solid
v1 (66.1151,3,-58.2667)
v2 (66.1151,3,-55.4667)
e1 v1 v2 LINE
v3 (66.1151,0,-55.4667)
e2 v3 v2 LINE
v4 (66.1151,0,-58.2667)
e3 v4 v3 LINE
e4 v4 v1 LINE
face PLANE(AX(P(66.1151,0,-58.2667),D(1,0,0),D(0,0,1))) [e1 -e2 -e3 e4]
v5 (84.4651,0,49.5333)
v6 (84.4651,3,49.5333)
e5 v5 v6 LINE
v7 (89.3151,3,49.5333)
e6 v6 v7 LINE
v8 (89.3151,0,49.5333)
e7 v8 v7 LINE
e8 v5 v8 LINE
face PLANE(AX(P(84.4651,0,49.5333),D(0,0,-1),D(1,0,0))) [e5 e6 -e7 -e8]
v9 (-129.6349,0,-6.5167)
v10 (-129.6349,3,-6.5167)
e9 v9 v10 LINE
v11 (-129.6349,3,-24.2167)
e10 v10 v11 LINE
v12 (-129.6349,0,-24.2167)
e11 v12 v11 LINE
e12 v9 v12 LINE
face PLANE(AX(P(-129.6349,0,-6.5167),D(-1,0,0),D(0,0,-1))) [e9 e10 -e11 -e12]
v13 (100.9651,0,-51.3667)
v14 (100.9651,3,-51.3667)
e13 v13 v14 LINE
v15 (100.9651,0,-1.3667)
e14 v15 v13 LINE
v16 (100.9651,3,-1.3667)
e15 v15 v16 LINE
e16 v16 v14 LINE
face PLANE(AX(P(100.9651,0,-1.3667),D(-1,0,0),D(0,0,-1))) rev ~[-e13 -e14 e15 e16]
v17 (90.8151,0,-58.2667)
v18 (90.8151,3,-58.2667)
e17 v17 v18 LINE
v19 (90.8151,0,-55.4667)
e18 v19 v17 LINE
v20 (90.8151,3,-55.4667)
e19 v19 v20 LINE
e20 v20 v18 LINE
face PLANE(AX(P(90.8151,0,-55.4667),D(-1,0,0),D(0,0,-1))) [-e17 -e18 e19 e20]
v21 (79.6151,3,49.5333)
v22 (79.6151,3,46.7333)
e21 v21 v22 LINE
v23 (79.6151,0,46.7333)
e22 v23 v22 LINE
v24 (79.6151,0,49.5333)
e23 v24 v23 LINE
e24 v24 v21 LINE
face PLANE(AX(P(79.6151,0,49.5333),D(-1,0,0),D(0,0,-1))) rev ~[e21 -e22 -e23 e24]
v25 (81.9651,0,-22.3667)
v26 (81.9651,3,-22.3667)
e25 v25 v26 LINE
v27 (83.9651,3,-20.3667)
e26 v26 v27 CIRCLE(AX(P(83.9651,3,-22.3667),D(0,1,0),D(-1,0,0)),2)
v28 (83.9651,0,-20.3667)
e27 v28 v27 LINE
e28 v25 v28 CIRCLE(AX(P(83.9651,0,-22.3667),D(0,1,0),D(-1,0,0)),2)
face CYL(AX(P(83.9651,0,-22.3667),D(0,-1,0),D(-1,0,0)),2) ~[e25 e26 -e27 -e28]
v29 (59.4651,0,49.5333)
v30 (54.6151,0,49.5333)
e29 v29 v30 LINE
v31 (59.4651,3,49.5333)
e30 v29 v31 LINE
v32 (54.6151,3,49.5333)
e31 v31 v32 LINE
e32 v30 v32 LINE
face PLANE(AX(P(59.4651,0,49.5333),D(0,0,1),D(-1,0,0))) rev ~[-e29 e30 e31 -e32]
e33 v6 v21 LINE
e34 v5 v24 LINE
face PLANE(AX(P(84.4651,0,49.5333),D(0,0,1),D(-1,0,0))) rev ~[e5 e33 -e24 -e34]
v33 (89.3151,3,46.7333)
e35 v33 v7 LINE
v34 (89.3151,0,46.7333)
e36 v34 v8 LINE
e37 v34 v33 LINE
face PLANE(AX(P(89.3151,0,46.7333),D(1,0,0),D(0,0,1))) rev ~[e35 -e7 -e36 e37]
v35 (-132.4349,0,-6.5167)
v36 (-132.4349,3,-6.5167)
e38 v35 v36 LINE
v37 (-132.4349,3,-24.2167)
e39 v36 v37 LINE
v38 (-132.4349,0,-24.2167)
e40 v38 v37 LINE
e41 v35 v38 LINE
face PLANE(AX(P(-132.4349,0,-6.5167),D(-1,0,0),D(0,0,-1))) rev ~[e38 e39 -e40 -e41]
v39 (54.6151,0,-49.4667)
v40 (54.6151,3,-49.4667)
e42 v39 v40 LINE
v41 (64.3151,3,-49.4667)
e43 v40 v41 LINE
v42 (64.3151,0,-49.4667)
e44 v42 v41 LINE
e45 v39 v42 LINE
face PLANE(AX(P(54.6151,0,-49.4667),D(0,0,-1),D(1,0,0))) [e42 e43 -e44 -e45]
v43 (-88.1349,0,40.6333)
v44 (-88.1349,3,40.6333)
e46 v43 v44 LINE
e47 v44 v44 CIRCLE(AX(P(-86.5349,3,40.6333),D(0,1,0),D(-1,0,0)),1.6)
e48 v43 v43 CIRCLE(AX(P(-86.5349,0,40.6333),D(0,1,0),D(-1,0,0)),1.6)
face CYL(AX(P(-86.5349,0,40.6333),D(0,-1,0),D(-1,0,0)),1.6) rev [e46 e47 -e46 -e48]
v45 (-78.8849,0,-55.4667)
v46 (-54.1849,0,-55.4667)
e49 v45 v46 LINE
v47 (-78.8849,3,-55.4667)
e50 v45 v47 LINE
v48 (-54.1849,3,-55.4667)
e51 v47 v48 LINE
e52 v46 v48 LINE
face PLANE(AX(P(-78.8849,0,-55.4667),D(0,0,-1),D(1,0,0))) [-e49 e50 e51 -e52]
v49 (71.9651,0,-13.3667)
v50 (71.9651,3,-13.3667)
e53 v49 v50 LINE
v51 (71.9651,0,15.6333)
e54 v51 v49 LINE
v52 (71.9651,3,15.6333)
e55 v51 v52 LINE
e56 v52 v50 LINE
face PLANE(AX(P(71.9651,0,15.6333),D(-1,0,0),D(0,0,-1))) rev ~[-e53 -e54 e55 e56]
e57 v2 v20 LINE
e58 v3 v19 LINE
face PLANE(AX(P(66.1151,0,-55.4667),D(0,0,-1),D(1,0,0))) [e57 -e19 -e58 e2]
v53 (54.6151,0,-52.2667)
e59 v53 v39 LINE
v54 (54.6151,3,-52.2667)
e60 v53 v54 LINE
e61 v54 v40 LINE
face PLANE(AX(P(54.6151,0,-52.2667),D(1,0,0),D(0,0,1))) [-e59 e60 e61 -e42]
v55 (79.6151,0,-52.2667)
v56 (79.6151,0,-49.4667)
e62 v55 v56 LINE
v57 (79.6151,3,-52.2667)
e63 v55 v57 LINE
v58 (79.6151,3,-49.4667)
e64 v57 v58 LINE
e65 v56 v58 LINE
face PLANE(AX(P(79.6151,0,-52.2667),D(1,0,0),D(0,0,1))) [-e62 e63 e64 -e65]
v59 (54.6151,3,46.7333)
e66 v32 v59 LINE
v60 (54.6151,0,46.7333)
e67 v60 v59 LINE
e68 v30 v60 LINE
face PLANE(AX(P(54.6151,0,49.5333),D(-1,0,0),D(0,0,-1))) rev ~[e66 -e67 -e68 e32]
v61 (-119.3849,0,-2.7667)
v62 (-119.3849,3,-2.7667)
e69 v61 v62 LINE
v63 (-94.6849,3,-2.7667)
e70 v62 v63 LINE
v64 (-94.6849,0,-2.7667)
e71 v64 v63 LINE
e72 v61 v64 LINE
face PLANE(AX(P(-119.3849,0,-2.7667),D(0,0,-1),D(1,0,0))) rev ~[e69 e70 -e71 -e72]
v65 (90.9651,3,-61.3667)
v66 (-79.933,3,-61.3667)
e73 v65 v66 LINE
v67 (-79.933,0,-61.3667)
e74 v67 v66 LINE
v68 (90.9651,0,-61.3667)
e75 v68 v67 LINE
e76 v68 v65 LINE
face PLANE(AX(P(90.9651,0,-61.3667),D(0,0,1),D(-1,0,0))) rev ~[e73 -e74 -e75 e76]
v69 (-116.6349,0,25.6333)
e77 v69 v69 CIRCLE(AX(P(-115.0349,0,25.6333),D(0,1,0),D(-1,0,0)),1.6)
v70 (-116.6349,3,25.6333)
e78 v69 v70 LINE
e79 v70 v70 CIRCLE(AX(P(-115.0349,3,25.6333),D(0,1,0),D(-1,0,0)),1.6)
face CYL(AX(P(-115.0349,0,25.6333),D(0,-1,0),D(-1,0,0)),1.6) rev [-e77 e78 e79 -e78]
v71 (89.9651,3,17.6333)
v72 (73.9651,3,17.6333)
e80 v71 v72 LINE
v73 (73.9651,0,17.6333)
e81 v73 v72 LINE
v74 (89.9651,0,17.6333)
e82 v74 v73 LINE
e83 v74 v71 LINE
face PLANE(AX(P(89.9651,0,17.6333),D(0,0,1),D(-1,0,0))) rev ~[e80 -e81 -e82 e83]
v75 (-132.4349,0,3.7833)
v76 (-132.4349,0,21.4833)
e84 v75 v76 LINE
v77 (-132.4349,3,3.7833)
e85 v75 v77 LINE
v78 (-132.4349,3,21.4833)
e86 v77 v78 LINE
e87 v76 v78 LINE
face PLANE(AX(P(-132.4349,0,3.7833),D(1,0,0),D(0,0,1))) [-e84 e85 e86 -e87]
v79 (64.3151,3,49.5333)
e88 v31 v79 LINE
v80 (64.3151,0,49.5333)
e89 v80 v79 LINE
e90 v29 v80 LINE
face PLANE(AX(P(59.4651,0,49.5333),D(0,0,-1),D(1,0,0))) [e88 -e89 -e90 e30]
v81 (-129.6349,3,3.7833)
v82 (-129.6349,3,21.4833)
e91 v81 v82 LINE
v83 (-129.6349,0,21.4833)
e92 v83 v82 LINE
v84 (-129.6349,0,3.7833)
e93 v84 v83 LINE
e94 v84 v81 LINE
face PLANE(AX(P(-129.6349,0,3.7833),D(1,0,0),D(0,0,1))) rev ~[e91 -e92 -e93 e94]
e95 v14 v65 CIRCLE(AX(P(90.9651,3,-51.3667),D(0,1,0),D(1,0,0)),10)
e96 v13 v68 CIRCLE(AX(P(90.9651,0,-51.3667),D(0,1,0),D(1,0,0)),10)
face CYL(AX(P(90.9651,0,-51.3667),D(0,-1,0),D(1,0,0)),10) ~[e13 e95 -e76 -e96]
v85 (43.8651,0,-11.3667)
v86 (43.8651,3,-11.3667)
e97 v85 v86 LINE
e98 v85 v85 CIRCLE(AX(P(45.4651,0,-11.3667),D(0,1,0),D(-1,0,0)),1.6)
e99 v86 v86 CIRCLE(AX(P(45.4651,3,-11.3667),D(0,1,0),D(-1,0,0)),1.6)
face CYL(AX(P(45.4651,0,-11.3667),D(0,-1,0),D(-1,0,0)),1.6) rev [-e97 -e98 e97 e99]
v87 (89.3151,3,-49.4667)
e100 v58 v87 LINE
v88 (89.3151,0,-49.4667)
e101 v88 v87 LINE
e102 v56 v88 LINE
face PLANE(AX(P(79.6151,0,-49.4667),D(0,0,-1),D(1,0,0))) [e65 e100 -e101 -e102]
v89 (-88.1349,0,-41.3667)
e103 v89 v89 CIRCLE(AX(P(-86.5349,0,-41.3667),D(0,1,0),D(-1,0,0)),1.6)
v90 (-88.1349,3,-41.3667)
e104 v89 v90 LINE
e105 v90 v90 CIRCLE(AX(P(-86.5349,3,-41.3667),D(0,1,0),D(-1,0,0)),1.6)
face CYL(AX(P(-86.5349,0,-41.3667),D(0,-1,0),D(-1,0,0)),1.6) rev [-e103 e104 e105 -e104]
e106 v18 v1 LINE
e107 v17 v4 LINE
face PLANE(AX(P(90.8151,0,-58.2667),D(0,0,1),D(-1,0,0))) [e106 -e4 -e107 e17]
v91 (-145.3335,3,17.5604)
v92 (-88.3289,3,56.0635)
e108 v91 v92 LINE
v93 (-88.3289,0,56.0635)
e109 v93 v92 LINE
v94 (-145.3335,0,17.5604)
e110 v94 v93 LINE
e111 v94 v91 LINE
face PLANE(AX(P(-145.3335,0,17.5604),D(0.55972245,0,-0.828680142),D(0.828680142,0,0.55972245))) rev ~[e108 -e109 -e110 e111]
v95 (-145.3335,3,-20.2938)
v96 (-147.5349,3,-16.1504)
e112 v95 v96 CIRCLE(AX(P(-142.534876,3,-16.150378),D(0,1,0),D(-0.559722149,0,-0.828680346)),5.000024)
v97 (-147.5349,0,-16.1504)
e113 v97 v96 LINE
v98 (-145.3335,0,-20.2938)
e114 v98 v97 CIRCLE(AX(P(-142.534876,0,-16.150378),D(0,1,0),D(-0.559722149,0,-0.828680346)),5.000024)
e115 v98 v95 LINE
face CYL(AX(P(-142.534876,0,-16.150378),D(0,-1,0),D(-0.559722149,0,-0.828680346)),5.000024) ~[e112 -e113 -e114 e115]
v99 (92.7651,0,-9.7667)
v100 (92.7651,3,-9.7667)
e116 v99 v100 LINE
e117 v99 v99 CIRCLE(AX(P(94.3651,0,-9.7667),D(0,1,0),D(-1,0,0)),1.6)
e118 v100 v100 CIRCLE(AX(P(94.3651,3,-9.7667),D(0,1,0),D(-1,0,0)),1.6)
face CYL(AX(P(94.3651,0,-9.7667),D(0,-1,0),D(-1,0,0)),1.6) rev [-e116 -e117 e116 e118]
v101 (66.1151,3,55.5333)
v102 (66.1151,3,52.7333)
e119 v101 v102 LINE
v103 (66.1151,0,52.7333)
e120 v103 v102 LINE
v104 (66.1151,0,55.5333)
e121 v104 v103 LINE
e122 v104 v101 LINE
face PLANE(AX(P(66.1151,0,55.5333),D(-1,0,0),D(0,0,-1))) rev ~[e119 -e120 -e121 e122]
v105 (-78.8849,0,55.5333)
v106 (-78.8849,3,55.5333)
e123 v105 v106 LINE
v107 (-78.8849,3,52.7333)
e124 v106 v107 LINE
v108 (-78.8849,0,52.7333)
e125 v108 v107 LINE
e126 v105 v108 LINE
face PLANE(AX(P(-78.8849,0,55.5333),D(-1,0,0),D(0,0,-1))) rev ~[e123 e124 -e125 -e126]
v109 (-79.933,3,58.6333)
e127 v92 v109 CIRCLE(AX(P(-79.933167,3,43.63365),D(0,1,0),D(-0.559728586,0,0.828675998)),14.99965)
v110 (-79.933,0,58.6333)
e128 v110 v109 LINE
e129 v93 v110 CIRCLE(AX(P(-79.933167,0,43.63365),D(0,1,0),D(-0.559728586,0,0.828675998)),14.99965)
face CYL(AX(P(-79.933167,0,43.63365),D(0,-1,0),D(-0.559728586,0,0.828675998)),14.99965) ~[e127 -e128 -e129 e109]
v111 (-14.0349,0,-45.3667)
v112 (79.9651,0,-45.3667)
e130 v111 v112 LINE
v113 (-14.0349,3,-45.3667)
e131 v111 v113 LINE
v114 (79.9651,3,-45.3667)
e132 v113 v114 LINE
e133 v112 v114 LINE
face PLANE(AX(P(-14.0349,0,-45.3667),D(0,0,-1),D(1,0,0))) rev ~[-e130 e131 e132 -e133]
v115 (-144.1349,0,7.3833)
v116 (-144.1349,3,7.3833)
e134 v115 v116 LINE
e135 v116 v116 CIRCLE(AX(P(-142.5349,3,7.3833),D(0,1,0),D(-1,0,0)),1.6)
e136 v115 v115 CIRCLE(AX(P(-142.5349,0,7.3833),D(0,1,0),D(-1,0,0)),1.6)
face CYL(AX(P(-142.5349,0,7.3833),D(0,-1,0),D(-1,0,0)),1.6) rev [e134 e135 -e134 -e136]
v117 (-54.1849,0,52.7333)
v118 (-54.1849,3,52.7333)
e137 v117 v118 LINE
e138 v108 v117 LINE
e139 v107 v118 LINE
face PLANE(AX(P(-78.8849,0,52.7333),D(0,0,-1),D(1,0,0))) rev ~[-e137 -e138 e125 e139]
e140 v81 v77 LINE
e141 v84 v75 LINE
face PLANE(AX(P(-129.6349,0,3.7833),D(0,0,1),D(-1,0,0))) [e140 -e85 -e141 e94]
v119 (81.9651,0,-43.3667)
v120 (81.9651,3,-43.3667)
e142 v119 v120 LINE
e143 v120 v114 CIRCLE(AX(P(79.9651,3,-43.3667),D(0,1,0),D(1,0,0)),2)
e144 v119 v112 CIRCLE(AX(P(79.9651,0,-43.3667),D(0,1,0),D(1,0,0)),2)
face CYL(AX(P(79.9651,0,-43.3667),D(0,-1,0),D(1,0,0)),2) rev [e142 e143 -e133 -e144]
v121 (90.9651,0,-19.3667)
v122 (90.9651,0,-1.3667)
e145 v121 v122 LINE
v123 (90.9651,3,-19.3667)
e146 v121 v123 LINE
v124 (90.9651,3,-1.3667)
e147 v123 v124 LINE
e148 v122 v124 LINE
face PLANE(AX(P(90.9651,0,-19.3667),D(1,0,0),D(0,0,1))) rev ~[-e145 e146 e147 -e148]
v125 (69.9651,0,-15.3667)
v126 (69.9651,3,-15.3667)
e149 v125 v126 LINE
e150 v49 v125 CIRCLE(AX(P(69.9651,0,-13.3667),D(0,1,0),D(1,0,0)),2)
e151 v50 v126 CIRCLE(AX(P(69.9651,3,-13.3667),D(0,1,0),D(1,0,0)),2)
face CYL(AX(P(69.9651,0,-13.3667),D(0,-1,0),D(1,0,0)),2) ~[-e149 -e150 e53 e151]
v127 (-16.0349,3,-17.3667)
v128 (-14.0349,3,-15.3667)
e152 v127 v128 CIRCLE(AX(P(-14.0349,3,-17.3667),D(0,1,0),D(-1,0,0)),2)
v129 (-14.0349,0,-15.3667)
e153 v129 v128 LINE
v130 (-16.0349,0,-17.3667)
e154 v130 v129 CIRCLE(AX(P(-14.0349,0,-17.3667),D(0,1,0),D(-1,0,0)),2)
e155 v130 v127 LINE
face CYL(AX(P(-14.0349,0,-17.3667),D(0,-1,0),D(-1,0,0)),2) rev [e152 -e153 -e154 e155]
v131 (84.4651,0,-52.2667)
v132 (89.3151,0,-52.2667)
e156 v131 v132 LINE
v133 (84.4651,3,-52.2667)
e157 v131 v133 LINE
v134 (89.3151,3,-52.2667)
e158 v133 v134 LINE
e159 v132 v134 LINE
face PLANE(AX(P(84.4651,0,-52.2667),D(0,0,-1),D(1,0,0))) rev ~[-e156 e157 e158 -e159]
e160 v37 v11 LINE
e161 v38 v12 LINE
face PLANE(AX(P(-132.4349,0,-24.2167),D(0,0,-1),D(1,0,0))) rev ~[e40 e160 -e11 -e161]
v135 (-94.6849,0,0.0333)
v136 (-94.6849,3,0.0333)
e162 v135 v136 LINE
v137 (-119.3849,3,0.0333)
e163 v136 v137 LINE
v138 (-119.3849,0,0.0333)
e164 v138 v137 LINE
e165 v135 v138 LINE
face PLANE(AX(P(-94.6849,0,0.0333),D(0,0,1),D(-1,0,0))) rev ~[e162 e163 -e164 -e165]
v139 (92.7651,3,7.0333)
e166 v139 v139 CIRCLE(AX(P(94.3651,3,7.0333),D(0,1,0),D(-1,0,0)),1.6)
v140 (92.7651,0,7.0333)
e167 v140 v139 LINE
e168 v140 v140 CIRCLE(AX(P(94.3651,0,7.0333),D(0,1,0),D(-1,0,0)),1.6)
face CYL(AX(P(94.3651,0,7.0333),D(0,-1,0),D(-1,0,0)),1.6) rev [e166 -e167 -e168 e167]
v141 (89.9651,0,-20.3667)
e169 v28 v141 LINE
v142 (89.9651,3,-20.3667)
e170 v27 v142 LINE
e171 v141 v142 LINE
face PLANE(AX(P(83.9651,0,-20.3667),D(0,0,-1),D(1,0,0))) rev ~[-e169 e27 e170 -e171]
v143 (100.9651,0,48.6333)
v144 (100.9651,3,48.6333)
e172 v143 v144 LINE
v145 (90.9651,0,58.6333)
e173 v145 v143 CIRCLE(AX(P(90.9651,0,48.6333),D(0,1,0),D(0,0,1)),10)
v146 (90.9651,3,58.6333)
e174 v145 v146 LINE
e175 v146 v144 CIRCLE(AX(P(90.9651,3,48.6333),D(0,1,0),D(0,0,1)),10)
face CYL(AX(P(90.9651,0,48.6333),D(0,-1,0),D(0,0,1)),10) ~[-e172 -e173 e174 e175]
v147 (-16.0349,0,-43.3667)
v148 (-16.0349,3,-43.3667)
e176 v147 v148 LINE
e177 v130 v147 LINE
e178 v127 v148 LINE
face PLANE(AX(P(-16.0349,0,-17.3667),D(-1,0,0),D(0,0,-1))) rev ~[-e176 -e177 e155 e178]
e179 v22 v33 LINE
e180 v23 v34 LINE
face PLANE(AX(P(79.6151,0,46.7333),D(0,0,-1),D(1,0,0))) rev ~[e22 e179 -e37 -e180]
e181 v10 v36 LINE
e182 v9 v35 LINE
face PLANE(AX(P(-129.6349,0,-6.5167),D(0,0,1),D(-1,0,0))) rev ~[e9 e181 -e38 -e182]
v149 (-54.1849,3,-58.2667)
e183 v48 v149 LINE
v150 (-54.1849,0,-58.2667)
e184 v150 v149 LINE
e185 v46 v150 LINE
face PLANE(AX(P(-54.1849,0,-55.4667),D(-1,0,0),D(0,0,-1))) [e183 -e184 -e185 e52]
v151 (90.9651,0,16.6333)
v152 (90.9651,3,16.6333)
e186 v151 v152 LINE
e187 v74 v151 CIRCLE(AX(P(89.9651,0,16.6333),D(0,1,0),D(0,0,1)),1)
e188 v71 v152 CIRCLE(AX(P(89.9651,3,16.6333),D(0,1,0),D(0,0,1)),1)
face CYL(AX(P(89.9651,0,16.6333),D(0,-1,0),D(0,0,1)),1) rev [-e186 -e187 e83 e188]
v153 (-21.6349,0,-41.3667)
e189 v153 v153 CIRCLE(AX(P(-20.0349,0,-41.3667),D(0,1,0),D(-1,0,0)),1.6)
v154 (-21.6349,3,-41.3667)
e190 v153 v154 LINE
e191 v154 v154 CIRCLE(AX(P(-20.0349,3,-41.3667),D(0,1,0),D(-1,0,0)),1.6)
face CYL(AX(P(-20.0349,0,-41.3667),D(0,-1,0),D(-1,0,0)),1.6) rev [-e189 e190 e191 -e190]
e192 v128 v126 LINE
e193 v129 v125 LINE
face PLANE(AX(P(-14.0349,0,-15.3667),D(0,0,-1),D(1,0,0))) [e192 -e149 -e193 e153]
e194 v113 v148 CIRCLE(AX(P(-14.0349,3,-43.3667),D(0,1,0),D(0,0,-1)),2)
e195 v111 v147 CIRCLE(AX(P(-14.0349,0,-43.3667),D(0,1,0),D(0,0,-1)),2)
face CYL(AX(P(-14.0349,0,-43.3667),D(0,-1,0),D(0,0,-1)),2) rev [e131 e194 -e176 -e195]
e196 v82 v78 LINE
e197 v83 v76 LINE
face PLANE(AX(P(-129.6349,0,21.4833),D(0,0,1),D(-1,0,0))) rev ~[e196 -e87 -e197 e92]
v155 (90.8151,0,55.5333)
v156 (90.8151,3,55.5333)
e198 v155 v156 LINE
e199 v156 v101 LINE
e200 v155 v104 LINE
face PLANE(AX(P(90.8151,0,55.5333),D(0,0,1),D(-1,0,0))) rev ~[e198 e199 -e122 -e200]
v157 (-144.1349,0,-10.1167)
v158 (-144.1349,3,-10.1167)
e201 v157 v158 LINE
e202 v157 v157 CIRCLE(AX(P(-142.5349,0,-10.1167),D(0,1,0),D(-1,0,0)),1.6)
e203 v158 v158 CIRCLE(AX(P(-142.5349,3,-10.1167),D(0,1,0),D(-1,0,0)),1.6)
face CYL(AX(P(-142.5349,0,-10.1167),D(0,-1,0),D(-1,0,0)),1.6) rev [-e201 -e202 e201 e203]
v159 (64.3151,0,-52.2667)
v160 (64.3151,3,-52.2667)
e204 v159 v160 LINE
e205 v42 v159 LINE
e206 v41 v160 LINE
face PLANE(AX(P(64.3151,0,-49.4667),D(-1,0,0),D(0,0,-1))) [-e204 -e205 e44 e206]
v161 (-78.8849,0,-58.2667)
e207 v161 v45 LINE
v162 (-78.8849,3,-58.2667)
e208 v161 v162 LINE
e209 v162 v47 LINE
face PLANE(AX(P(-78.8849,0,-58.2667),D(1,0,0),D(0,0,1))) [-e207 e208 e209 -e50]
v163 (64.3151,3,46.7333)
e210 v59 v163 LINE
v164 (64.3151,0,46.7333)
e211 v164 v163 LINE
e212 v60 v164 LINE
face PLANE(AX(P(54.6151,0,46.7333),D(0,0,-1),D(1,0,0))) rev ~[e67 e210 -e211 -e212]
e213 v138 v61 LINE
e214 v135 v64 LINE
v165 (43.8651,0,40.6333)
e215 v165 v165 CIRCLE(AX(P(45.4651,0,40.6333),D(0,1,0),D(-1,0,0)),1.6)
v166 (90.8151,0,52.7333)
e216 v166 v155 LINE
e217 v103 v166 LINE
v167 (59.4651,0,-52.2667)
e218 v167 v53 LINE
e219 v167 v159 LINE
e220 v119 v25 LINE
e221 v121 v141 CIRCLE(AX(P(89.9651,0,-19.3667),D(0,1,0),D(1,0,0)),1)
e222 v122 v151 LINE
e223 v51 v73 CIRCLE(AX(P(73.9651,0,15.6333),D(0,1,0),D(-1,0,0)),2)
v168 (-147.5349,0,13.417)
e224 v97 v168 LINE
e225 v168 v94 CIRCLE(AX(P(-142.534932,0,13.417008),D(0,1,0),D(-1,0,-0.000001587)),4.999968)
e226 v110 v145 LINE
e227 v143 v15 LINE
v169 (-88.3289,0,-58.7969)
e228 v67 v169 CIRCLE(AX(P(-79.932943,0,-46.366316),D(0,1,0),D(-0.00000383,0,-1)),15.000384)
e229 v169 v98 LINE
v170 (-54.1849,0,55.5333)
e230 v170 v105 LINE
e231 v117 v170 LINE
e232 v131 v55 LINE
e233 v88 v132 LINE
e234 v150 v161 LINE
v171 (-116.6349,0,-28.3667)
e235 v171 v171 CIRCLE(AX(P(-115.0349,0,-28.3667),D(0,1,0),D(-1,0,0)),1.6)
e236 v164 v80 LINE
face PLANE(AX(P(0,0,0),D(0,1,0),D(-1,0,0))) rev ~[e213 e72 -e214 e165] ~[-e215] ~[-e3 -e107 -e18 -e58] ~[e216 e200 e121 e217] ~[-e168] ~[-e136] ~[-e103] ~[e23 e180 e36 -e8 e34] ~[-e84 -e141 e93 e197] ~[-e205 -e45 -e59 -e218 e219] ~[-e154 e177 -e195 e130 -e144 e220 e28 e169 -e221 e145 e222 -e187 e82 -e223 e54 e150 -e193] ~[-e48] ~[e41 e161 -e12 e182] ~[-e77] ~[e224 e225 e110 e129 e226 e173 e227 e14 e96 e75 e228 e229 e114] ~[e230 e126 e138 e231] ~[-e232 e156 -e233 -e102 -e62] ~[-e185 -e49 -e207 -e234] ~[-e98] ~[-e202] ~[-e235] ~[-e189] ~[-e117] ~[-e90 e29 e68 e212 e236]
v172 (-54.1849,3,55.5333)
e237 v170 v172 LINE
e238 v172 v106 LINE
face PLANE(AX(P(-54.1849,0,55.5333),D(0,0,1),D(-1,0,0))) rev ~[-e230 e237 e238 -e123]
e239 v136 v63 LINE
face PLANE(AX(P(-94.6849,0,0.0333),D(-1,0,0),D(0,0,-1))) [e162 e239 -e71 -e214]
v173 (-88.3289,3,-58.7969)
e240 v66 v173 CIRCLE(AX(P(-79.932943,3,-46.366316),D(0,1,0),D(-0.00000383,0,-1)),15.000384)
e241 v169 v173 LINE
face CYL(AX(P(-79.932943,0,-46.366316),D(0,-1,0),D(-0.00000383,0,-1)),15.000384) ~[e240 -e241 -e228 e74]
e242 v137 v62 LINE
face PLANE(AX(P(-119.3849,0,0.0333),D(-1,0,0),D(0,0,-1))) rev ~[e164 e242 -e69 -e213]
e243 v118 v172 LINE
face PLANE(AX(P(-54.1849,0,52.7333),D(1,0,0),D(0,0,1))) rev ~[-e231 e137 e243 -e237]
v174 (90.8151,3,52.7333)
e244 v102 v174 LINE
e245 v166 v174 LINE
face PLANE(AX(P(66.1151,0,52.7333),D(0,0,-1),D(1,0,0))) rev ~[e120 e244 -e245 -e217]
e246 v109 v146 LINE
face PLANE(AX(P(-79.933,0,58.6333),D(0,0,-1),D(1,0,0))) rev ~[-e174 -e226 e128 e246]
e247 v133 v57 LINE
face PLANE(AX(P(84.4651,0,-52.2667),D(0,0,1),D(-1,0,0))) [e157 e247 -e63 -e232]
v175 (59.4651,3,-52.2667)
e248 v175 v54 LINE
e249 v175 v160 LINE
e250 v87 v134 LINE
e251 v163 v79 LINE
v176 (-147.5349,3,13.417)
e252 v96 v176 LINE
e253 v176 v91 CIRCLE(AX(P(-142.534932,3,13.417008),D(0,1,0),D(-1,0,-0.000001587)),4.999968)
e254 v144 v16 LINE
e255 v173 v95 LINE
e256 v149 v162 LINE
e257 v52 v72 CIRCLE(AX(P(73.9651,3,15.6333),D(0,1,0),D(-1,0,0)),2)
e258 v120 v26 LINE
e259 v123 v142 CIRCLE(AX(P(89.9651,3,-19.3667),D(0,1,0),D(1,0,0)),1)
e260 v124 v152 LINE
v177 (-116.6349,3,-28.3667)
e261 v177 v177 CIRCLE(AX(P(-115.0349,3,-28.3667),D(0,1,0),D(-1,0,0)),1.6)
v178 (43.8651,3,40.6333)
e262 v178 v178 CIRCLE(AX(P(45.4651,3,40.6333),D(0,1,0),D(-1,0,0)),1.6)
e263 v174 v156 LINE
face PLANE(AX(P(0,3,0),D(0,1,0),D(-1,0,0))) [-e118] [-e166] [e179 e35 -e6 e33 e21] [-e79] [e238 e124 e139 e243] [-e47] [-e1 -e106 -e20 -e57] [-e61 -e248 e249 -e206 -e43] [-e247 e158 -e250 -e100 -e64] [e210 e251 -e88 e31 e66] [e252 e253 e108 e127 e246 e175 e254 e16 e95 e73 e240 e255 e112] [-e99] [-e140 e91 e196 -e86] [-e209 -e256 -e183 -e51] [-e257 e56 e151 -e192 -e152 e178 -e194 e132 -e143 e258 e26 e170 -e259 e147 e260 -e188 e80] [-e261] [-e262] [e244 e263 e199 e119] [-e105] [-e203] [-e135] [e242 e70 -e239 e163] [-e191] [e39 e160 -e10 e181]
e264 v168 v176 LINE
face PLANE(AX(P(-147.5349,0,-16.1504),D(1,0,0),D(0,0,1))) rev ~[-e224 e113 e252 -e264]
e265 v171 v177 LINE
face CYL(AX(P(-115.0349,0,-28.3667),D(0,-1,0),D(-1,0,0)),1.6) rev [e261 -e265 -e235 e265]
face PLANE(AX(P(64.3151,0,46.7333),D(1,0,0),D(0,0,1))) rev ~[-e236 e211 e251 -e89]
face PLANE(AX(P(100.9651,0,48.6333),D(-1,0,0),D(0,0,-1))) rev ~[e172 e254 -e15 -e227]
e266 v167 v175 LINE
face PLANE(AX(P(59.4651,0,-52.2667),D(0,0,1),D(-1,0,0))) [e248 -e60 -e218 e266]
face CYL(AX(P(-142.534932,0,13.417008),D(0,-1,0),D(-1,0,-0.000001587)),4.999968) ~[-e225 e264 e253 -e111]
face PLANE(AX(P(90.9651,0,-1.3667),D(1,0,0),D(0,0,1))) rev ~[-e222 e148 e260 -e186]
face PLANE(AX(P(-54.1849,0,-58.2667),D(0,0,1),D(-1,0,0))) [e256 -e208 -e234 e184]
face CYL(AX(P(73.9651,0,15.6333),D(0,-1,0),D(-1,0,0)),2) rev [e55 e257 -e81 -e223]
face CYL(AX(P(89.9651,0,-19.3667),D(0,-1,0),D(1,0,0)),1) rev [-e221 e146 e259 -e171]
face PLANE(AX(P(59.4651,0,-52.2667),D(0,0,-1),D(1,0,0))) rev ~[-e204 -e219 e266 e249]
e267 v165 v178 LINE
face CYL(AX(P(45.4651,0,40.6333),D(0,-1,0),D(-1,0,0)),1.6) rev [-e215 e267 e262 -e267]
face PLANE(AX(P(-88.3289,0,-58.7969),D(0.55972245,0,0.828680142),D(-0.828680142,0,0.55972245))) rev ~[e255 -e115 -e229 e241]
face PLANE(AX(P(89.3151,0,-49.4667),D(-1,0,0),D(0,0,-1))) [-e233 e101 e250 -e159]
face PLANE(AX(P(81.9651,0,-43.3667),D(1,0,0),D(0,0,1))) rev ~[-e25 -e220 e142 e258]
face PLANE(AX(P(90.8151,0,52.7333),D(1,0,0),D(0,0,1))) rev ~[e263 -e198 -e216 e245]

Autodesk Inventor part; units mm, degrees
ref_plane "YZ Plane" through (0, 0, 0) normal (1, 0, 0) x (0, 1, 0)
ref_plane "XZ Plane" through (0, 0, 0) normal (0, 1, 0) x (-1, 0, 0)
ref_plane "XY Plane" through (0, 0, 0) normal (0, 0, 1) x (1, 0, 0)
sketch "Sketch1" plane through (0, 0, 0) normal (0, 1, 0) x (-1, 0, 0)
  line L0 (-100.9651, 48.6333) -> (-100.9651, -1.3667)
  line L1 (79.933, 58.6333) -> (-90.9651, 58.6333)
  line L2 (145.3335, 17.5604) -> (88.3289, 56.0635)
  line L3 (-100.9651, -1.3667) -> (-100.9651, -51.3667)
  circle A0 centre (115.0349, 25.6333) radius 1.6
  circle A1 centre (115.0349, -28.3667) radius 1.6
  circle A2 centre (142.5349, 7.3833) radius 1.6
  circle A3 centre (142.5349, -10.1167) radius 1.6
  circle A4 centre (-94.3651, -9.7667) radius 1.6
  circle A5 centre (-94.3651, 7.0333) radius 1.6
  line L4 (147.5349, -16.1504) -> (147.5349, 13.417)
  arc A6 (-100.9651, -51.3667) -> (-90.9651, -61.3667) centre (-90.9651, -51.3667) ccw
  arc A7 (-90.9651, 58.6333) -> (-100.9651, 48.6333) centre (-90.9651, 48.6333) ccw
  arc A8 (88.3289, 56.0635) -> (79.933, 58.6333) centre (79.933, 43.6333) ccw
  arc A9 (79.933, -61.3667) -> (88.3289, -58.7969) centre (79.933, -46.3667) ccw
  arc A10 (147.5349, 13.417) -> (145.3335, 17.5604) centre (142.5349, 13.417) ccw
  arc A11 (145.3335, -20.2938) -> (147.5349, -16.1504) centre (142.5349, -16.1504) ccw
  line L5 (-90.9651, -61.3667) -> (79.933, -61.3667)
  line L6 (88.3289, -58.7969) -> (145.3335, -20.2938)
  line L7 (-90.9651, -1.3667) -> (-90.9651, 16.6333)
  line L8 (-89.9651, 17.6333) -> (-73.9651, 17.6333)
  arc A12 (-71.9651, 15.6333) -> (-73.9651, 17.6333) centre (-73.9651, 15.6333) ccw
  arc A13 (-89.9651, 17.6333) -> (-90.9651, 16.6333) centre (-89.9651, 16.6333) ccw
  line L9 (-71.9651, 15.6333) -> (-71.9651, -13.3667)
  line L10 (-83.9651, -20.3667) -> (-89.9651, -20.3667)
  arc A14 (-90.9651, -19.3667) -> (-89.9651, -20.3667) centre (-89.9651, -19.3667) ccw
  line L11 (-90.9651, -19.3667) -> (-90.9651, -1.3667)
  line L12 (16.0349, -17.3667) -> (16.0349, -43.3667)
  arc A15 (14.0349, -45.3667) -> (16.0349, -43.3667) centre (14.0349, -43.3667) ccw
  line L13 (14.0349, -15.3667) -> (-69.9651, -15.3667)
  arc A16 (16.0349, -17.3667) -> (14.0349, -15.3667) centre (14.0349, -17.3667) ccw
  arc A17 (-71.9651, -13.3667) -> (-69.9651, -15.3667) centre (-69.9651, -13.3667) ccw
  line L14 (14.0349, -45.3667) -> (-79.9651, -45.3667)
  arc A18 (-81.9651, -43.3667) -> (-79.9651, -45.3667) centre (-79.9651, -43.3667) ccw
  line L15 (-81.9651, -43.3667) -> (-81.9651, -22.3667)
  arc A19 (-81.9651, -22.3667) -> (-83.9651, -20.3667) centre (-83.9651, -22.3667) ccw
  line L16 (-54.6151, -49.4667) -> (-64.3151, -49.4667)
  line L17 (-64.3151, -49.4667) -> (-64.3151, -52.2667)
  line L18 (-59.4651, -52.2667) -> (-54.6151, -52.2667)
  line L19 (-54.6151, -52.2667) -> (-54.6151, -49.4667)
  line L20 (-59.4651, -52.2667) -> (-64.3151, -52.2667)
  line L21 (-79.6151, -49.4667) -> (-89.3151, -49.4667)
  line L22 (-89.3151, -49.4667) -> (-89.3151, -52.2667)
  line L23 (-84.4651, -52.2667) -> (-79.6151, -52.2667)
  line L24 (-79.6151, -52.2667) -> (-79.6151, -49.4667)
  line L25 (-84.4651, -52.2667) -> (-89.3151, -52.2667)
  line L26 (-54.6151, 46.7333) -> (-64.3151, 46.7333)
  line L27 (-64.3151, 46.7333) -> (-64.3151, 49.5333)
  line L28 (-59.4651, 49.5333) -> (-54.6151, 49.5333)
  line L29 (-54.6151, 49.5333) -> (-54.6151, 46.7333)
  line L30 (-59.4651, 49.5333) -> (-64.3151, 49.5333)
  line L31 (-79.6151, 46.7333) -> (-89.3151, 46.7333)
  line L32 (-89.3151, 46.7333) -> (-89.3151, 49.5333)
  line L33 (-84.4651, 49.5333) -> (-79.6151, 49.5333)
  line L34 (-79.6151, 49.5333) -> (-79.6151, 46.7333)
  line L35 (-84.4651, 49.5333) -> (-89.3151, 49.5333)
  circle A20 centre (-45.4651, -11.3667) radius 1.6
  circle A21 centre (-45.4651, 40.6333) radius 1.6
  circle A22 centre (86.5349, 40.6333) radius 1.6
  circle A23 centre (20.0349, -41.3667) radius 1.6
  circle A24 centre (86.5349, -41.3667) radius 1.6
  line L36 (129.6349, -6.5167) -> (129.6349, -24.2167)
  line L37 (132.4349, -6.5167) -> (132.4349, -24.2167)
  line L38 (129.6349, 3.7833) -> (129.6349, 21.4833)
  line L39 (132.4349, 3.7833) -> (132.4349, 21.4833)
  line L40 (119.3849, -2.7667) -> (94.6849, -2.7667)
  line L41 (94.6849, 0.0333) -> (119.3849, 0.0333)
  line L42 (94.6849, 0.0333) -> (94.6849, -2.7667)
  line L43 (119.3849, 0.0333) -> (119.3849, -2.7667)
  line L44 (129.6349, -6.5167) -> (132.4349, -6.5167)
  line L45 (132.4349, -24.2167) -> (129.6349, -24.2167)
  line L46 (129.6349, 3.7833) -> (132.4349, 3.7833)
  line L47 (129.6349, 21.4833) -> (132.4349, 21.4833)
  line L48 (-90.8151, -58.2667) -> (-66.1151, -58.2667)
  line L49 (-66.1151, -58.2667) -> (-66.1151, -55.4667)
  line L50 (-66.1151, -55.4667) -> (-90.8151, -55.4667)
  line L51 (-90.8151, -55.4667) -> (-90.8151, -58.2667)
  line L52 (-90.8151, 55.5333) -> (-66.1151, 55.5333)
  line L53 (-66.1151, 55.5333) -> (-66.1151, 52.7333)
  line L54 (-66.1151, 52.7333) -> (-90.8151, 52.7333)
  line L55 (-90.8151, 52.7333) -> (-90.8151, 55.5333)
  line L56 (54.1849, 55.5333) -> (78.8849, 55.5333)
  line L57 (78.8849, 55.5333) -> (78.8849, 52.7333)
  line L58 (78.8849, 52.7333) -> (54.1849, 52.7333)
  line L59 (54.1849, 52.7333) -> (54.1849, 55.5333)
  line L60 (54.1849, -58.2667) -> (78.8849, -58.2667)
  line L61 (78.8849, -58.2667) -> (78.8849, -55.4667)
  line L62 (78.8849, -55.4667) -> (54.1849, -55.4667)
  line L63 (54.1849, -55.4667) -> (54.1849, -58.2667)
extrude "Extrusion1" add sketch "Sketch1" along normal blind 3
properties part number "base" material "Polycarbonate, Clear"
